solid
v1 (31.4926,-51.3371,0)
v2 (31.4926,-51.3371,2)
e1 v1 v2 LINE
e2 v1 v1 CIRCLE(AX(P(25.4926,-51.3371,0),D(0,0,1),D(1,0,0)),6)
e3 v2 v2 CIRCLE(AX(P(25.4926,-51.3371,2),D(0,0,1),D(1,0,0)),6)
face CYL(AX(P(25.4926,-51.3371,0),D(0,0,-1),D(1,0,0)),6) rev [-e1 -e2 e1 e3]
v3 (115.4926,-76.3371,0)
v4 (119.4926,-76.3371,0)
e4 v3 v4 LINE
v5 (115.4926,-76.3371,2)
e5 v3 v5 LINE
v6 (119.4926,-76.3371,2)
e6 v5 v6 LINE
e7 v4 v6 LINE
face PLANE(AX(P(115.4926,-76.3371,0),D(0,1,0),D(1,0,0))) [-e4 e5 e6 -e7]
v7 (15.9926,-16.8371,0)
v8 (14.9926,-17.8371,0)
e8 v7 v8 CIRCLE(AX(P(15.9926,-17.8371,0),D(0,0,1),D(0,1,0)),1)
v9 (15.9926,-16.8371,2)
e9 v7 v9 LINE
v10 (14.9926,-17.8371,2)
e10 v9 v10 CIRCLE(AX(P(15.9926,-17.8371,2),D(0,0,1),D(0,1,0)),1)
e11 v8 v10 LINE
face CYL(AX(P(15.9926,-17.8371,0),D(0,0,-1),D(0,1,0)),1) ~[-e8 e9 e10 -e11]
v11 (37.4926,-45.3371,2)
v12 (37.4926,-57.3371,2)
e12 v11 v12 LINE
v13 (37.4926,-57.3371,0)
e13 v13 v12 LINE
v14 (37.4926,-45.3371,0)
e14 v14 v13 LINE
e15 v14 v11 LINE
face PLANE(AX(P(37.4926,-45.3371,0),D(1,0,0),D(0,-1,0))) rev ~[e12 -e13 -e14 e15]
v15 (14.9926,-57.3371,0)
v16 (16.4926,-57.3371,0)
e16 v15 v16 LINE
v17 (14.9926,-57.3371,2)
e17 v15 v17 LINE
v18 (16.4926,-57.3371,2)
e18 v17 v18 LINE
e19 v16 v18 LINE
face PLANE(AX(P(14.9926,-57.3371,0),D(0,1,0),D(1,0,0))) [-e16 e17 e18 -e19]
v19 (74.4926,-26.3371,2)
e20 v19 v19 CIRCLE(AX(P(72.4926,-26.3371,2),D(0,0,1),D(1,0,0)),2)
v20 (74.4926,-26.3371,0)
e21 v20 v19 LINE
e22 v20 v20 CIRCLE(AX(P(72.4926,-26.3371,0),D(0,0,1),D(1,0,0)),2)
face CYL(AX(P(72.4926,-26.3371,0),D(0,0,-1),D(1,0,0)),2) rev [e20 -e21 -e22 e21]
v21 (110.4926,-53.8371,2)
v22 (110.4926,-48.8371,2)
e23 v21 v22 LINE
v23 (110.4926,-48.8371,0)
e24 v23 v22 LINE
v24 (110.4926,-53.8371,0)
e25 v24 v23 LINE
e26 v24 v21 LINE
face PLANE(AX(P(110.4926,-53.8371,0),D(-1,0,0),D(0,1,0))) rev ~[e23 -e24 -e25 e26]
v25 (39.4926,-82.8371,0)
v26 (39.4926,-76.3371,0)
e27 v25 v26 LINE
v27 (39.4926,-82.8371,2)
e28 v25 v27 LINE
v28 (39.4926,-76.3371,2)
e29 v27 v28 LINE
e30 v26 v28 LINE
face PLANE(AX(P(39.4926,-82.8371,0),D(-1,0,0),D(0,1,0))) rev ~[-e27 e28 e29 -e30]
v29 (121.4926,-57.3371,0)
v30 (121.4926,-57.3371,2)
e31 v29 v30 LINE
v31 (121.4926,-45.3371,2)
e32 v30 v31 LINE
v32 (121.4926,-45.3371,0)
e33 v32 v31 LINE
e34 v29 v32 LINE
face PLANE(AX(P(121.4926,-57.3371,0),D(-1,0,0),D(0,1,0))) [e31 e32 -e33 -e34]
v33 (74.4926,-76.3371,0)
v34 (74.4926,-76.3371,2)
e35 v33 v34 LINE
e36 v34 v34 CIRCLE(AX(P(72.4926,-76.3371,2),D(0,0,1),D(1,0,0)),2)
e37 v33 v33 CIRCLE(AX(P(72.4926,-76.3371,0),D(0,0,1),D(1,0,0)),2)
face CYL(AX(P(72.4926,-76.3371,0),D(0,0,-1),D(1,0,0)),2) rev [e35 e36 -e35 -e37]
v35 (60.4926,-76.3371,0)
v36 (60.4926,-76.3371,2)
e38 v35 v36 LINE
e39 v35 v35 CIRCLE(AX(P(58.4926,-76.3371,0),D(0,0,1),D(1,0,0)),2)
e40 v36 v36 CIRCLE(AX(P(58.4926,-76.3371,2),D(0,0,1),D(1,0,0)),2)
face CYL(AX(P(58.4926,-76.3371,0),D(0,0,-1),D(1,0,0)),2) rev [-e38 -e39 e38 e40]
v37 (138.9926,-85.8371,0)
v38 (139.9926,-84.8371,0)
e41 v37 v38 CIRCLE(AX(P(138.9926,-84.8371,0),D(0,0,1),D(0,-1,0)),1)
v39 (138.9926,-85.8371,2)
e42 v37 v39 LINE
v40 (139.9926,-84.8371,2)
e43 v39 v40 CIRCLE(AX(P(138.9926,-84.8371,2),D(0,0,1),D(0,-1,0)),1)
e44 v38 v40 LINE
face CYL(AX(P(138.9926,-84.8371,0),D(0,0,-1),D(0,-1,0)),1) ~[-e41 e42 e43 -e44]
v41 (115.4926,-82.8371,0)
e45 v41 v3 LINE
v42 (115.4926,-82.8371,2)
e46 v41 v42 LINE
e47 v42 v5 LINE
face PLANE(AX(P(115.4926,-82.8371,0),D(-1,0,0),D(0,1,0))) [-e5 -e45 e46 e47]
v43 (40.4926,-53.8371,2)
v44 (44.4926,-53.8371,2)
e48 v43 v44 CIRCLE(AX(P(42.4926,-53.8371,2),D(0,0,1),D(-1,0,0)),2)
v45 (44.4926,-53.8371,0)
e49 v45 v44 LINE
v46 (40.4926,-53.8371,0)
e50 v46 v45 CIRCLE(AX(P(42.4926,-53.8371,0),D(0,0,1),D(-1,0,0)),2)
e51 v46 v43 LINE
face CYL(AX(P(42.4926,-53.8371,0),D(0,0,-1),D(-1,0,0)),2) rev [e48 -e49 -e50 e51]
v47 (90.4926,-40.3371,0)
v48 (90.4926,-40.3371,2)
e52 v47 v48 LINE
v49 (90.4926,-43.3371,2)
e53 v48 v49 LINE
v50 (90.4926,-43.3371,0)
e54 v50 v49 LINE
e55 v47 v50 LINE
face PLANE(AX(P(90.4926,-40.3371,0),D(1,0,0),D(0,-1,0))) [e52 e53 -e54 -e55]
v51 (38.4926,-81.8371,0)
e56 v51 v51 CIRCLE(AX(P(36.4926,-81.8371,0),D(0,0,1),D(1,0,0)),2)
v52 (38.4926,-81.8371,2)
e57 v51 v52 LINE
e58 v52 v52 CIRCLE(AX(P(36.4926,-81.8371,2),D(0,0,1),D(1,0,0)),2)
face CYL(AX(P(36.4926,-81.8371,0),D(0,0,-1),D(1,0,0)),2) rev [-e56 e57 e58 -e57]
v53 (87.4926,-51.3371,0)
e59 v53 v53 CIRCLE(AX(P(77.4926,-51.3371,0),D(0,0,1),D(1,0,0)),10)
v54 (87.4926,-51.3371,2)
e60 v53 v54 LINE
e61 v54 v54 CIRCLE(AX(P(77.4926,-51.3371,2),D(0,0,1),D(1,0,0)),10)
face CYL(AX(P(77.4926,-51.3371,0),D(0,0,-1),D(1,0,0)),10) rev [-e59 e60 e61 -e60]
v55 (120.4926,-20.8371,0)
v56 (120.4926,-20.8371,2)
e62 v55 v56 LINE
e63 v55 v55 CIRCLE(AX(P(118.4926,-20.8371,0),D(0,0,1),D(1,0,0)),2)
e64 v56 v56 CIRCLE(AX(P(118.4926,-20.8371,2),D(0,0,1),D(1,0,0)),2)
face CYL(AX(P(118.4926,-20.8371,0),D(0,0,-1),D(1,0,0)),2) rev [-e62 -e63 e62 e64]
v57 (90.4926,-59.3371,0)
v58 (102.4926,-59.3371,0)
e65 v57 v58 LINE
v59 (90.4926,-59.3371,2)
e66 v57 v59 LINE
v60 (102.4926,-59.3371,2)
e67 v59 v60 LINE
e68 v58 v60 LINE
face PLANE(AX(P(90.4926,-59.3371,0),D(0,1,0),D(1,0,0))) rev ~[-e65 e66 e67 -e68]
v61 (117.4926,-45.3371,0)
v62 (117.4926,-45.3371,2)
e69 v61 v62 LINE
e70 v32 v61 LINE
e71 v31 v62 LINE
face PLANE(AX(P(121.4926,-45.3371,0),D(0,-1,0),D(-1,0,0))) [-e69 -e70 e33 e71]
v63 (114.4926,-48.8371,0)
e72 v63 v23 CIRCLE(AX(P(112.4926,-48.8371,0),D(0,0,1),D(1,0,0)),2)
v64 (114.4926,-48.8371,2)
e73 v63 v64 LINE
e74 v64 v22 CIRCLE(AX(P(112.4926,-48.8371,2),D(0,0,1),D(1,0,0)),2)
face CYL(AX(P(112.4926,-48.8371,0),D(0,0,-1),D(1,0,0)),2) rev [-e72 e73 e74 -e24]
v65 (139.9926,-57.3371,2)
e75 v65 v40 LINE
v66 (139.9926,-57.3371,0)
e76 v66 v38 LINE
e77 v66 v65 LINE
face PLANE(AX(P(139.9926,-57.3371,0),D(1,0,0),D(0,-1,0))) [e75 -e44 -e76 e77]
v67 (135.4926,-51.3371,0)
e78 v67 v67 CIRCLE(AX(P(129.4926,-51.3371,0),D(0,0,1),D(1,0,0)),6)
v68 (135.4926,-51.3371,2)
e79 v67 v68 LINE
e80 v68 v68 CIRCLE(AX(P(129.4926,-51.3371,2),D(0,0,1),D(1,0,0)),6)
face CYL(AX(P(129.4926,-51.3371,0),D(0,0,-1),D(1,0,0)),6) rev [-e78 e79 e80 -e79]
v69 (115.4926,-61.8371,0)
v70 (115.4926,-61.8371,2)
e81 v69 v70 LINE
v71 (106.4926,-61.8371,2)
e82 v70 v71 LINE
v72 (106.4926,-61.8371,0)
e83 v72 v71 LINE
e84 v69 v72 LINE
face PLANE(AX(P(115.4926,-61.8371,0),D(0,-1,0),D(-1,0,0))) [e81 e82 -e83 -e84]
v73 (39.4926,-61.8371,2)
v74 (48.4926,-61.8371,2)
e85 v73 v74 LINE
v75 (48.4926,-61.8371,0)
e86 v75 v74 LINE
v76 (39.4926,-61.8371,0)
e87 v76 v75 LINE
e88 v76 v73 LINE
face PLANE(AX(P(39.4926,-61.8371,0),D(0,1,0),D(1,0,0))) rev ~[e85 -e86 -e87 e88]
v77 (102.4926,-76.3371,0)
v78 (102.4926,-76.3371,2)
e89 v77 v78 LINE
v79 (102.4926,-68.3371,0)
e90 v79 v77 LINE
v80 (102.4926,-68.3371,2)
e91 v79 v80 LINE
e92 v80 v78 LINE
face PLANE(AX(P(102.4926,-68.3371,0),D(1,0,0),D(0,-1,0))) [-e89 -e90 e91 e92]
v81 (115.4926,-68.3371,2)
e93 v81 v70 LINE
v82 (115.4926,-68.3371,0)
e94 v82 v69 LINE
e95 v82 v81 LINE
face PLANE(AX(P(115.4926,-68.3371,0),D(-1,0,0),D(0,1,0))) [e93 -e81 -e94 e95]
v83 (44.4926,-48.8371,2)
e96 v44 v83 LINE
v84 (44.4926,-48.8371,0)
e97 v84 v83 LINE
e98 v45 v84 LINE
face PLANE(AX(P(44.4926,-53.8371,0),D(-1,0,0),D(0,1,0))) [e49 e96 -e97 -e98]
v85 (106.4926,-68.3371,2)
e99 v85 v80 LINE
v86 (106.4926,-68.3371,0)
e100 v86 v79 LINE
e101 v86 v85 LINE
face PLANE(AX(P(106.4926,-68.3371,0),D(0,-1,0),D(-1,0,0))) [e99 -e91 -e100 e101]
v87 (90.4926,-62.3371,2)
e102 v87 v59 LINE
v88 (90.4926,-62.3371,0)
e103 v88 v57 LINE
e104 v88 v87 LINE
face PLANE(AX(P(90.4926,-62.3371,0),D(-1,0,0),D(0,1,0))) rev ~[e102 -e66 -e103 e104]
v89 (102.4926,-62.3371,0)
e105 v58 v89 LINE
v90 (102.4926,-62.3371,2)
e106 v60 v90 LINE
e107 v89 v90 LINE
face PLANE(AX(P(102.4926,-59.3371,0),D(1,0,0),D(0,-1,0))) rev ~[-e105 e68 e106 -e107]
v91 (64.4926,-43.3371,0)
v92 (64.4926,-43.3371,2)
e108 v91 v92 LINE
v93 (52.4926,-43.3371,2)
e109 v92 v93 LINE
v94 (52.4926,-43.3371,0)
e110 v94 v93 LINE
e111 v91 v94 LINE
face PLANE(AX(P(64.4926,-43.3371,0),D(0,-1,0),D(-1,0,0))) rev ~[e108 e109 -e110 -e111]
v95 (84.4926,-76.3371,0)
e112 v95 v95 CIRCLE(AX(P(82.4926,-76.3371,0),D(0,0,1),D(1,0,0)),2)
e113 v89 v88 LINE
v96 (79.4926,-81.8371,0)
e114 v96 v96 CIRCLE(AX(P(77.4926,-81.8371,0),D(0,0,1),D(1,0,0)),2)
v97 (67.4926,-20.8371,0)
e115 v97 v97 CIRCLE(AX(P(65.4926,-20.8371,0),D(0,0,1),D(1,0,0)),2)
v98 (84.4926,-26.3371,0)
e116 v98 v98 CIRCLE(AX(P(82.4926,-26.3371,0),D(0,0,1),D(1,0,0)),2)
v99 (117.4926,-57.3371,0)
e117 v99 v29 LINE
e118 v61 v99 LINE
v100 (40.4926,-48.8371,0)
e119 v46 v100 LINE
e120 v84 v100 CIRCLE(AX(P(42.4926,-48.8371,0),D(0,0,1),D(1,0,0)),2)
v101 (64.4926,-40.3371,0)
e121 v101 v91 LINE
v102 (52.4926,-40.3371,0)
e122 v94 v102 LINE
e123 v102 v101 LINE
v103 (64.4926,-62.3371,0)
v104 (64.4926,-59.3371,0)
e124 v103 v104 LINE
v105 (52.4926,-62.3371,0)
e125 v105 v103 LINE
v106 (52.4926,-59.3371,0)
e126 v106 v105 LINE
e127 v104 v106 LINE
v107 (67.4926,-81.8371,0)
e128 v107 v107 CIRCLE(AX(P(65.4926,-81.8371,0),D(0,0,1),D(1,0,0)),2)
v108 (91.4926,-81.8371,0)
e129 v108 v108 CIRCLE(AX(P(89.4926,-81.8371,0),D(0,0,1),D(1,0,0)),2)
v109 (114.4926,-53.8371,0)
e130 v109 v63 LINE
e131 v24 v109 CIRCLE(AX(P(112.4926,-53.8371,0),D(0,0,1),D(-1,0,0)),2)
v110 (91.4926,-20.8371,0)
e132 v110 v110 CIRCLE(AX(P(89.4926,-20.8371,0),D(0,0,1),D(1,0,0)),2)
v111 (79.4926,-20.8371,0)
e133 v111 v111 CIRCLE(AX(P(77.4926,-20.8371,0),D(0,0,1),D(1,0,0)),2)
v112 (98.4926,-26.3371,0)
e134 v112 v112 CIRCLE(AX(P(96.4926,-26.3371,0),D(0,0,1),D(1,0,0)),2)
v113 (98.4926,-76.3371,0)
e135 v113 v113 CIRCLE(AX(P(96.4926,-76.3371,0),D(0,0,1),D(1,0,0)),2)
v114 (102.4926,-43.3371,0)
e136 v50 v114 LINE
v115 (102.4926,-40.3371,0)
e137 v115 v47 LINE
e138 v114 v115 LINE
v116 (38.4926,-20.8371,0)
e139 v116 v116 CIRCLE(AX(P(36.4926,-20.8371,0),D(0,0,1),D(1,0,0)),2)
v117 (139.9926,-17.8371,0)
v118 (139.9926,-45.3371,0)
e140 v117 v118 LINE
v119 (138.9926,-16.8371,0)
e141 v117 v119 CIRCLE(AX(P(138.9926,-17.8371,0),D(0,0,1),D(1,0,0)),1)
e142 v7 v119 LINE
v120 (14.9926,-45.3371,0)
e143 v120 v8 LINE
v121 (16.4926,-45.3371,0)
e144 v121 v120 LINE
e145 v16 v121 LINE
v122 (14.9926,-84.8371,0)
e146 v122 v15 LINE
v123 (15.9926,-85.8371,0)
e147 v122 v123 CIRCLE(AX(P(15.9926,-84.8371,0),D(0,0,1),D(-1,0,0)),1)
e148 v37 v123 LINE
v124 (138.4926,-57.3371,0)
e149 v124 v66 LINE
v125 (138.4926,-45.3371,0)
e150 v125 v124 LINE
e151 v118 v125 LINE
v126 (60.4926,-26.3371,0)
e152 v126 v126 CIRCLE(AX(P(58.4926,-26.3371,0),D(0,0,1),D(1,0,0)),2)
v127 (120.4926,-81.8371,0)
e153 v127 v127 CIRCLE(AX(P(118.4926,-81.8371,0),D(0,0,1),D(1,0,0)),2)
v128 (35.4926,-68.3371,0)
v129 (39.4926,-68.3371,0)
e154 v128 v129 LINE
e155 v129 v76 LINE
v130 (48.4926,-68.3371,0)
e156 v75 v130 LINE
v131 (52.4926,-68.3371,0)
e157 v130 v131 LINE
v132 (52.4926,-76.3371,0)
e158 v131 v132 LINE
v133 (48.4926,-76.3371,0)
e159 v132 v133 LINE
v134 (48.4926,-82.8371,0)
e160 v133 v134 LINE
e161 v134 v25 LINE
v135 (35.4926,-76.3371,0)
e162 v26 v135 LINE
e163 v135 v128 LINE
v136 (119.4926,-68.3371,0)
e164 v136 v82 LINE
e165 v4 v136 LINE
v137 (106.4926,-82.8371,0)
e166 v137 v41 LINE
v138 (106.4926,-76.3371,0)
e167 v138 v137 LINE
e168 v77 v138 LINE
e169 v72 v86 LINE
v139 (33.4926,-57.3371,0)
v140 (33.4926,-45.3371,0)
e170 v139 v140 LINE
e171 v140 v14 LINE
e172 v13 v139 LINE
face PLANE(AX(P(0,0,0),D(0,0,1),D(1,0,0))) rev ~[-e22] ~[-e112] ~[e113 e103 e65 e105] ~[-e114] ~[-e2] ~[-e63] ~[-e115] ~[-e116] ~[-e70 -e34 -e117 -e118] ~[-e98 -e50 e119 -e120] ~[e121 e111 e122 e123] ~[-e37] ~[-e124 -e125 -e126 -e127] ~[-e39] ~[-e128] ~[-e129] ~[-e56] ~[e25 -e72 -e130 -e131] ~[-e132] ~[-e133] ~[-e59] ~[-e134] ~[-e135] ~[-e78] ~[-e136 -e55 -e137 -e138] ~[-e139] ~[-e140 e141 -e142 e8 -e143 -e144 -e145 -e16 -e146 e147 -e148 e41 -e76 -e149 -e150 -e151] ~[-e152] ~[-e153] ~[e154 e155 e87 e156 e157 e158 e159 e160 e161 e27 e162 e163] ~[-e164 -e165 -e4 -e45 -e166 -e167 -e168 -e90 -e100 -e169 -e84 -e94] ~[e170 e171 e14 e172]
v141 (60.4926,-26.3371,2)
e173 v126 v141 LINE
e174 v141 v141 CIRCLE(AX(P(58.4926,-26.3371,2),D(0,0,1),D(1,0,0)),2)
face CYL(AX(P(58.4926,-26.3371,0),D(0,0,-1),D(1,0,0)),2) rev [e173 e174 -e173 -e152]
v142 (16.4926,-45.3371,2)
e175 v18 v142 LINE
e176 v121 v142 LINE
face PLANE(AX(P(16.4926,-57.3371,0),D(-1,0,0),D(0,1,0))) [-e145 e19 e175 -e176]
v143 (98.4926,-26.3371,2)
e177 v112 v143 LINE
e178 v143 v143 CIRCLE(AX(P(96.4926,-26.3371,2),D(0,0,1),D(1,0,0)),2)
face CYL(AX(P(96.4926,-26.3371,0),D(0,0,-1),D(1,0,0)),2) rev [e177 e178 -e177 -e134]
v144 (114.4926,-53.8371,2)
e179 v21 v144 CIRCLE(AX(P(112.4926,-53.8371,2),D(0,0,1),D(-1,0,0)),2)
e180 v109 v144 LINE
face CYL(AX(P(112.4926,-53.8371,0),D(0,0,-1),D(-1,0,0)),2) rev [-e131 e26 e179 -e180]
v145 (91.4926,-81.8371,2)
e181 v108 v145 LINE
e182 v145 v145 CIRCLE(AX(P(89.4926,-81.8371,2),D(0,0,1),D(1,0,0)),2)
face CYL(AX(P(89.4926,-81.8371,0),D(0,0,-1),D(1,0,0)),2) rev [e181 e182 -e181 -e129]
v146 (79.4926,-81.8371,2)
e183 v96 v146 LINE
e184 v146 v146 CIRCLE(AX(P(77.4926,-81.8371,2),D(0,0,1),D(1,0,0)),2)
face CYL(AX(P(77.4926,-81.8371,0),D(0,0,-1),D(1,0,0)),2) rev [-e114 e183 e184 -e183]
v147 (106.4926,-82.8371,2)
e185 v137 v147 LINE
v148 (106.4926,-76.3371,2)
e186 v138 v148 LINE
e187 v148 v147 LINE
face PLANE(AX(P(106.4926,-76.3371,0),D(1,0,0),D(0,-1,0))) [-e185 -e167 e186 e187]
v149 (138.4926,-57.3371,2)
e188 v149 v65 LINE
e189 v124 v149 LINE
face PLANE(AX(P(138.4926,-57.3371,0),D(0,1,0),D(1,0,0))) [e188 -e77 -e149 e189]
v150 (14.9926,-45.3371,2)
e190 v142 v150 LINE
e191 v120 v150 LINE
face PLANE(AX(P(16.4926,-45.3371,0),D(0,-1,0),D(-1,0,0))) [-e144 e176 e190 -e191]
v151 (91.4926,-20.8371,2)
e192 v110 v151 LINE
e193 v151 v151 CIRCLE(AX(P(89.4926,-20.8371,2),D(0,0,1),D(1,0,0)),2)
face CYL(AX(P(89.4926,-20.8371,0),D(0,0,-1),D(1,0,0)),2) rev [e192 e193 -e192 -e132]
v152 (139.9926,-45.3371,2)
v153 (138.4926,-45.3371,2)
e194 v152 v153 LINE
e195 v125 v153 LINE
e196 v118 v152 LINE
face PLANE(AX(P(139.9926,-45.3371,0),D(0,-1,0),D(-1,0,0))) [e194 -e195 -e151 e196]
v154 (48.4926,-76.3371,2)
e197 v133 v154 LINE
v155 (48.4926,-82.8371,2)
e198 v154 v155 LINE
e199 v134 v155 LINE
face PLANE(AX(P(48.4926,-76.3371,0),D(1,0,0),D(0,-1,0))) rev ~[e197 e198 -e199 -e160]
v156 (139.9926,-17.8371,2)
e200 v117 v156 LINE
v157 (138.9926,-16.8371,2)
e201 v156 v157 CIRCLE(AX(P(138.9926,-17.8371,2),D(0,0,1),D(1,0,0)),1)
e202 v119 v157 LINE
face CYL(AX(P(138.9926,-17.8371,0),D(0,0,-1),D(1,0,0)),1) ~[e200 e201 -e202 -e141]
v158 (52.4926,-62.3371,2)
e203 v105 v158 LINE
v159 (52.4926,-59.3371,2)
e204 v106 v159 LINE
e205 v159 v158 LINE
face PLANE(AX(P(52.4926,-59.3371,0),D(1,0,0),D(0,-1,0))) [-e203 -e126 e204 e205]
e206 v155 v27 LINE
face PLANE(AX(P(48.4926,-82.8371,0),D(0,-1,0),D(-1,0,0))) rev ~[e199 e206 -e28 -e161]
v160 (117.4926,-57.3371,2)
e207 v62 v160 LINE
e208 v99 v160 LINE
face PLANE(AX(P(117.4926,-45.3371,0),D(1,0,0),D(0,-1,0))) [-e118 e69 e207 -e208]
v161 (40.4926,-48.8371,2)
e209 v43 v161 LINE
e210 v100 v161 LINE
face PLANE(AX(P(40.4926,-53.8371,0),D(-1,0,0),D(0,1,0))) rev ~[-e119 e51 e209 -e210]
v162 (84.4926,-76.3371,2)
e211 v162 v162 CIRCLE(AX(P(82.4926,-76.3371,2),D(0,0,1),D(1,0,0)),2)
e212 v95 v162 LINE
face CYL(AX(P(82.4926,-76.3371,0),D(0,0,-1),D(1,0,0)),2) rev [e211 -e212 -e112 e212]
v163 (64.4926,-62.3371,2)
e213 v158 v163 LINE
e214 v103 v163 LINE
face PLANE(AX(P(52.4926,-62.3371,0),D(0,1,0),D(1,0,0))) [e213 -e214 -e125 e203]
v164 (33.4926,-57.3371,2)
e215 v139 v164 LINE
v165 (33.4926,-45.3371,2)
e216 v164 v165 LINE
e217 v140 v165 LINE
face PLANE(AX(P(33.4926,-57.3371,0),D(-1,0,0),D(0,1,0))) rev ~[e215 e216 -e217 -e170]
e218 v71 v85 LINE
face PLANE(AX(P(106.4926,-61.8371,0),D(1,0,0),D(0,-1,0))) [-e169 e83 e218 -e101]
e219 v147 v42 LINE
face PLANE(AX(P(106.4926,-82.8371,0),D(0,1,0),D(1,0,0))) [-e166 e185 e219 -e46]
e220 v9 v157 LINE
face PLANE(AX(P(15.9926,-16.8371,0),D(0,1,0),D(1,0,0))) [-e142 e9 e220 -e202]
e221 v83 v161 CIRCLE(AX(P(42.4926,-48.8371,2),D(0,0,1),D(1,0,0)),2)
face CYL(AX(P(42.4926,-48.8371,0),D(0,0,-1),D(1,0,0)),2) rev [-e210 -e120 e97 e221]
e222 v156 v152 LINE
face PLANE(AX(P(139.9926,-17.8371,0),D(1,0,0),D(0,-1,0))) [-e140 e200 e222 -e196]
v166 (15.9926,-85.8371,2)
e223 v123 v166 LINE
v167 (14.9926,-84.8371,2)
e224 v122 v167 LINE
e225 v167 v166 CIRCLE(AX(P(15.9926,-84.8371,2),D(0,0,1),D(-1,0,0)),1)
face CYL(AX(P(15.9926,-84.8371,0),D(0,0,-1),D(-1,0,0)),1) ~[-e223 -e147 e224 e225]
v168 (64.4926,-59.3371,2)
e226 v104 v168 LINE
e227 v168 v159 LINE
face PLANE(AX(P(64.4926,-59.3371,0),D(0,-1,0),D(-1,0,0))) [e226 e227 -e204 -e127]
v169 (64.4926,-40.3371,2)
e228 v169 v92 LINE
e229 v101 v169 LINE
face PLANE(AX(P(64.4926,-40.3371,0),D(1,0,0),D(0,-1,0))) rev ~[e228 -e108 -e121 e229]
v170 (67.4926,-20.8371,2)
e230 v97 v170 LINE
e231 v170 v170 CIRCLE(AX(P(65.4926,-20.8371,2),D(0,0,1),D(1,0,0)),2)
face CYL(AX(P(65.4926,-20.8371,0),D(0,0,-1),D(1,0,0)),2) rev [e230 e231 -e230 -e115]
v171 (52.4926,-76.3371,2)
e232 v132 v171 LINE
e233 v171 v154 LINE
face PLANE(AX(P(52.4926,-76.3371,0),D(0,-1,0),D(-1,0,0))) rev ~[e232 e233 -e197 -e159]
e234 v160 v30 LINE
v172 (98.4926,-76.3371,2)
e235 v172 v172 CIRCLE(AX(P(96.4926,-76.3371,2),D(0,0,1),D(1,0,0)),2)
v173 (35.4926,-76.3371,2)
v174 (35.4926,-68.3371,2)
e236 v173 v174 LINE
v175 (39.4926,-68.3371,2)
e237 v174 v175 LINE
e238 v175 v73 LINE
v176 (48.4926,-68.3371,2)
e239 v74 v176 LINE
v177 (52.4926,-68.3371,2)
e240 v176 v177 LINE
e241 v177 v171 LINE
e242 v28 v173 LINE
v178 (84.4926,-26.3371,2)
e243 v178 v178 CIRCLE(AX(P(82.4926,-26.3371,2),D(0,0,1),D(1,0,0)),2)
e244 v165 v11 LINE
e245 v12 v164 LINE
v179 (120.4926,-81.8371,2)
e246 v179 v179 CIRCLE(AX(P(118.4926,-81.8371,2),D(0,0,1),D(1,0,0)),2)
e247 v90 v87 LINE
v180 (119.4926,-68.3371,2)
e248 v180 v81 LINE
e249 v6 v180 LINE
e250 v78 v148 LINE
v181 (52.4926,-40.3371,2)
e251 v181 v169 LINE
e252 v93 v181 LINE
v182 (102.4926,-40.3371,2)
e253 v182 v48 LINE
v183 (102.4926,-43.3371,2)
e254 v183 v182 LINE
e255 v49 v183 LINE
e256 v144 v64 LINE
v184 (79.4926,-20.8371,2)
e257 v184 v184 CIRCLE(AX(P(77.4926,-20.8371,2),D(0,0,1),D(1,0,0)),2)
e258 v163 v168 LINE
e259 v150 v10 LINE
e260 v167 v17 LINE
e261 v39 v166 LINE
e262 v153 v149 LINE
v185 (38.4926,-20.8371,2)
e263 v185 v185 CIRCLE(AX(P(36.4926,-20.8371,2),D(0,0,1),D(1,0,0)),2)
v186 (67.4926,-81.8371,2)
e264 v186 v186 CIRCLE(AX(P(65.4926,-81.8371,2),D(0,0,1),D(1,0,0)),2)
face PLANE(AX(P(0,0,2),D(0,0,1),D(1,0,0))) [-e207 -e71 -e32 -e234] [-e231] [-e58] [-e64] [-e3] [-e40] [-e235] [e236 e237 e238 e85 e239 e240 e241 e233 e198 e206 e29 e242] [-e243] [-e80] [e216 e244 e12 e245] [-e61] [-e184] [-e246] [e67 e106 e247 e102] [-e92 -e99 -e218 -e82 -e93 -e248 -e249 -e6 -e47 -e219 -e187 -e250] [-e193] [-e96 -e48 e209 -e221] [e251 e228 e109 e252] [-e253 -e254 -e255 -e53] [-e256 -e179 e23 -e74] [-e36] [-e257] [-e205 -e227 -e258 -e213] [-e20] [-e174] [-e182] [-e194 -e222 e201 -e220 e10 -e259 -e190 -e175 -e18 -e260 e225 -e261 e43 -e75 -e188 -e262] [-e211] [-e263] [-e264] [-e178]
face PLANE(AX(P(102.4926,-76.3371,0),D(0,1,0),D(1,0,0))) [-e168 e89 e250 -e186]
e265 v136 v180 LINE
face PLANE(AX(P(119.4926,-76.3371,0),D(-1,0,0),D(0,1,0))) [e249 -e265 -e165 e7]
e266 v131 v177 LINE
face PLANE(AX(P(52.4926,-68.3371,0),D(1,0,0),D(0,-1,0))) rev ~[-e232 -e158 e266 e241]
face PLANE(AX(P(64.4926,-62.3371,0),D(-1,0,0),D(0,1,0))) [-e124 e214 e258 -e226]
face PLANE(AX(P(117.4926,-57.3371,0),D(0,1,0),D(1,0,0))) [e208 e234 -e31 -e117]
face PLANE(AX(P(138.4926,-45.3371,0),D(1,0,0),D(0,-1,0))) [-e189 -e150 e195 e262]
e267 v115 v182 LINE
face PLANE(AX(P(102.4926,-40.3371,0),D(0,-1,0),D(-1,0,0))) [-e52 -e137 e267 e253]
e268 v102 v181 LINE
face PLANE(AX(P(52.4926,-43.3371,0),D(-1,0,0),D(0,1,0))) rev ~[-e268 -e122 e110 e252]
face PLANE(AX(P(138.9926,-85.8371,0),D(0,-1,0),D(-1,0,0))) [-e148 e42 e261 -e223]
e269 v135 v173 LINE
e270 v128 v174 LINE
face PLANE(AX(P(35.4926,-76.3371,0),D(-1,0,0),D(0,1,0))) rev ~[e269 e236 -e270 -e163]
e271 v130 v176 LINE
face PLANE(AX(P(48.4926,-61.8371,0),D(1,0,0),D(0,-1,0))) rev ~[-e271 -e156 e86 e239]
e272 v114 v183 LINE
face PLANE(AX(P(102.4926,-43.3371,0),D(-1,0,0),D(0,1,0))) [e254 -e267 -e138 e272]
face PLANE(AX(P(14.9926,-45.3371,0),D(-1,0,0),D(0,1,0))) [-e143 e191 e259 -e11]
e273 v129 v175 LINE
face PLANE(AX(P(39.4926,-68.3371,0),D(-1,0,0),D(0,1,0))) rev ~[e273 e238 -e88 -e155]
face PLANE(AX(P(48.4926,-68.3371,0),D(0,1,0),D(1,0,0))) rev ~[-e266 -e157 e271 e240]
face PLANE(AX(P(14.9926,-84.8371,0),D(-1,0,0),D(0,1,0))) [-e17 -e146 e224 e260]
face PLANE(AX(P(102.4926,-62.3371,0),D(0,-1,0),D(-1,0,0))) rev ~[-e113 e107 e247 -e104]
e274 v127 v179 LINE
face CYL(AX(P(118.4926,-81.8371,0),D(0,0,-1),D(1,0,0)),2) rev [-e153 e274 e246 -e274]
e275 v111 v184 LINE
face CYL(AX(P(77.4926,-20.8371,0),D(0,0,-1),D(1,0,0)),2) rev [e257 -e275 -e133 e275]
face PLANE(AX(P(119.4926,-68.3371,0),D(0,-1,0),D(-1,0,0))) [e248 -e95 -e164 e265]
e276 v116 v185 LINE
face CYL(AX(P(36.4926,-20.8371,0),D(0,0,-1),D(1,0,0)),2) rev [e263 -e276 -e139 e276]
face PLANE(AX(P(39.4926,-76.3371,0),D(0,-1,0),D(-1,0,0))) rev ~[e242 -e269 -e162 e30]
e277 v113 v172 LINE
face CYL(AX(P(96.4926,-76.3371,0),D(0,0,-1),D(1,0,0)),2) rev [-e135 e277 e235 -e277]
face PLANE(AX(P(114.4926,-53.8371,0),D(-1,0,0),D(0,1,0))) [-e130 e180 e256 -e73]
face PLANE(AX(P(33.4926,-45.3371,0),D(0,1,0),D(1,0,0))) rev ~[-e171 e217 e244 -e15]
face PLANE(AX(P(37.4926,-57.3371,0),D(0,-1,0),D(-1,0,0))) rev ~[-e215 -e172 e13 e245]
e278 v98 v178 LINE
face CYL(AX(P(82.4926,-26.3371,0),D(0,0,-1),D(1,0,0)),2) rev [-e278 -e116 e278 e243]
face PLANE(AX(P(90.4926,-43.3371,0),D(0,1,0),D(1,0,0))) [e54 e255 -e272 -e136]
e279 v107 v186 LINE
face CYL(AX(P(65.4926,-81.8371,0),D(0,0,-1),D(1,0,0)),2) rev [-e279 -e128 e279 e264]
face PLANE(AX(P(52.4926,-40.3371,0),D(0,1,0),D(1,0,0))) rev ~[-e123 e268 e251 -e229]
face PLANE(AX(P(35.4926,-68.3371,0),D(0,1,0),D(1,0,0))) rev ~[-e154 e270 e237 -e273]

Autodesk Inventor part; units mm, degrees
ref_plane "YZ Plane" through (0, 0, 0) normal (1, 0, 0) x (0, 1, 0)
ref_plane "XZ Plane" through (0, 0, 0) normal (0, 1, 0) x (-1, 0, 0)
ref_plane "XY Plane" through (0, 0, 0) normal (0, 0, 1) x (1, 0, 0)
sketch "Эскиз1" plane through (0, 0, 0) normal (0, 0, 1) x (1, 0, 0)
  line L0 (15.9926, -16.8371) -> (138.9926, -16.8371)
  line L1 (139.9926, -17.8371) -> (139.9926, -45.3371)
  line L2 (139.9926, -45.3371) -> (138.4926, -45.3371)
  line L3 (138.4926, -45.3371) -> (138.4926, -57.3371)
  line L4 (138.4926, -57.3371) -> (139.9926, -57.3371)
  line L5 (139.9926, -57.3371) -> (139.9926, -84.8371)
  line L6 (138.9926, -85.8371) -> (15.9926, -85.8371)
  line L7 (14.9926, -84.8371) -> (14.9926, -57.3371)
  line L8 (14.9926, -57.3371) -> (16.4926, -57.3371)
  line L9 (16.4926, -57.3371) -> (16.4926, -45.3371)
  line L10 (16.4926, -45.3371) -> (14.9926, -45.3371)
  line L11 (14.9926, -45.3371) -> (14.9926, -17.8371)
  circle A0 centre (25.4926, -51.3371) radius 6
  circle A1 centre (129.4926, -51.3371) radius 6
  line L12 (33.4926, -57.3371) -> (33.4926, -45.3371)
  line L13 (33.4926, -45.3371) -> (37.4926, -45.3371)
  line L14 (37.4926, -45.3371) -> (37.4926, -57.3371)
  line L15 (37.4926, -57.3371) -> (33.4926, -57.3371)
  arc A2 (44.4926, -48.8371) -> (40.4926, -48.8371) centre (42.4926, -48.8371) ccw
  arc A3 (40.4926, -53.8371) -> (44.4926, -53.8371) centre (42.4926, -53.8371) ccw
  line L16 (44.4926, -53.8371) -> (44.4926, -48.8371)
  line L17 (40.4926, -53.8371) -> (40.4926, -48.8371)
  circle A4 centre (77.4926, -51.3371) radius 10
  line L18 (102.4926, -43.3371) -> (102.4926, -40.3371)
  line L19 (102.4926, -40.3371) -> (90.4926, -40.3371)
  line L20 (90.4926, -40.3371) -> (90.4926, -43.3371)
  line L21 (90.4926, -43.3371) -> (102.4926, -43.3371)
  circle A5 centre (77.4926, -20.8371) radius 2
  circle A6 centre (65.4926, -20.8371) radius 2
  circle A7 centre (89.4926, -20.8371) radius 2
  circle A8 centre (82.4926, -26.3371) radius 2
  circle A9 centre (118.4926, -20.8371) radius 2
  line L22 (106.4926, -61.8371) -> (106.4926, -68.3371)
  line L23 (106.4926, -68.3371) -> (102.4926, -68.3371)
  line L24 (102.4926, -68.3371) -> (102.4926, -76.3371)
  line L25 (102.4926, -76.3371) -> (106.4926, -76.3371)
  line L26 (115.4926, -61.8371) -> (106.4926, -61.8371)
  line L27 (115.4926, -68.3371) -> (115.4926, -61.8371)
  line L28 (106.4926, -76.3371) -> (106.4926, -82.8371)
  line L29 (106.4926, -82.8371) -> (115.4926, -82.8371)
  line L30 (115.4926, -82.8371) -> (115.4926, -76.3371)
  line L31 (115.4926, -76.3371) -> (119.4926, -76.3371)
  line L32 (119.4926, -68.3371) -> (115.4926, -68.3371)
  line L33 (119.4926, -76.3371) -> (119.4926, -68.3371)
  arc A10 (15.9926, -16.8371) -> (14.9926, -17.8371) centre (15.9926, -17.8371) ccw
  arc A11 (14.9926, -84.8371) -> (15.9926, -85.8371) centre (15.9926, -84.8371) ccw
  arc A12 (138.9926, -85.8371) -> (139.9926, -84.8371) centre (138.9926, -84.8371) ccw
  arc A13 (139.9926, -17.8371) -> (138.9926, -16.8371) centre (138.9926, -17.8371) ccw
  circle A14 centre (96.4926, -26.3371) radius 2
  circle A15 centre (58.4926, -26.3371) radius 2
  circle A16 centre (72.4926, -26.3371) radius 2
  circle A17 centre (36.4926, -20.8371) radius 2
  line L34 (102.4926, -59.3371) -> (102.4926, -62.3371)
  line L35 (102.4926, -62.3371) -> (90.4926, -62.3371)
  line L36 (90.4926, -62.3371) -> (90.4926, -59.3371)
  line L37 (90.4926, -59.3371) -> (102.4926, -59.3371)
  line L38 (52.4926, -43.3371) -> (52.4926, -40.3371)
  line L39 (52.4926, -40.3371) -> (64.4926, -40.3371)
  line L40 (64.4926, -40.3371) -> (64.4926, -43.3371)
  line L41 (64.4926, -43.3371) -> (52.4926, -43.3371)
  line L42 (52.4926, -59.3371) -> (52.4926, -62.3371)
  line L43 (64.4926, -59.3371) -> (52.4926, -59.3371)
  line L44 (64.4926, -62.3371) -> (64.4926, -59.3371)
  line L45 (52.4926, -62.3371) -> (64.4926, -62.3371)
  line L46 (121.4926, -57.3371) -> (121.4926, -45.3371)
  line L47 (121.4926, -45.3371) -> (117.4926, -45.3371)
  line L48 (117.4926, -45.3371) -> (117.4926, -57.3371)
  line L49 (117.4926, -57.3371) -> (121.4926, -57.3371)
  arc A18 (114.4926, -48.8371) -> (110.4926, -48.8371) centre (112.4926, -48.8371) ccw
  arc A19 (110.4926, -53.8371) -> (114.4926, -53.8371) centre (112.4926, -53.8371) ccw
  line L50 (110.4926, -53.8371) -> (110.4926, -48.8371)
  line L51 (114.4926, -53.8371) -> (114.4926, -48.8371)
  line L52 (82.4926, -26.3371) -> (82.4926, -26.3371)
  circle A20 centre (77.4926, -81.8371) radius 2
  circle A21 centre (65.4926, -81.8371) radius 2
  circle A22 centre (89.4926, -81.8371) radius 2
  circle A23 centre (82.4926, -76.3371) radius 2
  circle A24 centre (118.4926, -81.8371) radius 2
  circle A25 centre (96.4926, -76.3371) radius 2
  circle A26 centre (58.4926, -76.3371) radius 2
  circle A27 centre (72.4926, -76.3371) radius 2
  circle A28 centre (36.4926, -81.8371) radius 2
  line L53 (39.4926, -61.8371) -> (48.4926, -61.8371)
  line L54 (39.4926, -68.3371) -> (39.4926, -61.8371)
  line L55 (48.4926, -61.8371) -> (48.4926, -68.3371)
  line L56 (48.4926, -68.3371) -> (52.4926, -68.3371)
  line L57 (52.4926, -68.3371) -> (52.4926, -76.3371)
  line L58 (52.4926, -76.3371) -> (48.4926, -76.3371)
  line L59 (48.4926, -82.8371) -> (39.4926, -82.8371)
  line L60 (48.4926, -76.3371) -> (48.4926, -82.8371)
  line L61 (39.4926, -82.8371) -> (39.4926, -76.3371)
  line L62 (39.4926, -76.3371) -> (35.4926, -76.3371)
  line L63 (35.4926, -68.3371) -> (39.4926, -68.3371)
  line L64 (35.4926, -76.3371) -> (35.4926, -68.3371)
  point P0 (0, 0)
  point P1 (14.9926, -16.8371)
  point P2 (139.9926, -16.8371)
  point P3 (139.9926, -85.8371)
  point P4 (34.4926, -62.3371)
  point P5 (51.4926, -81.3371)
  point P6 (119.9926, -62.3371)
  point P7 (102.9926, -81.3371)
  point P8 (118.4926, -81.3371)
extrude "Выдавливание3" add sketch "Эскиз1" along normal blind 2
properties part number "Зад"
